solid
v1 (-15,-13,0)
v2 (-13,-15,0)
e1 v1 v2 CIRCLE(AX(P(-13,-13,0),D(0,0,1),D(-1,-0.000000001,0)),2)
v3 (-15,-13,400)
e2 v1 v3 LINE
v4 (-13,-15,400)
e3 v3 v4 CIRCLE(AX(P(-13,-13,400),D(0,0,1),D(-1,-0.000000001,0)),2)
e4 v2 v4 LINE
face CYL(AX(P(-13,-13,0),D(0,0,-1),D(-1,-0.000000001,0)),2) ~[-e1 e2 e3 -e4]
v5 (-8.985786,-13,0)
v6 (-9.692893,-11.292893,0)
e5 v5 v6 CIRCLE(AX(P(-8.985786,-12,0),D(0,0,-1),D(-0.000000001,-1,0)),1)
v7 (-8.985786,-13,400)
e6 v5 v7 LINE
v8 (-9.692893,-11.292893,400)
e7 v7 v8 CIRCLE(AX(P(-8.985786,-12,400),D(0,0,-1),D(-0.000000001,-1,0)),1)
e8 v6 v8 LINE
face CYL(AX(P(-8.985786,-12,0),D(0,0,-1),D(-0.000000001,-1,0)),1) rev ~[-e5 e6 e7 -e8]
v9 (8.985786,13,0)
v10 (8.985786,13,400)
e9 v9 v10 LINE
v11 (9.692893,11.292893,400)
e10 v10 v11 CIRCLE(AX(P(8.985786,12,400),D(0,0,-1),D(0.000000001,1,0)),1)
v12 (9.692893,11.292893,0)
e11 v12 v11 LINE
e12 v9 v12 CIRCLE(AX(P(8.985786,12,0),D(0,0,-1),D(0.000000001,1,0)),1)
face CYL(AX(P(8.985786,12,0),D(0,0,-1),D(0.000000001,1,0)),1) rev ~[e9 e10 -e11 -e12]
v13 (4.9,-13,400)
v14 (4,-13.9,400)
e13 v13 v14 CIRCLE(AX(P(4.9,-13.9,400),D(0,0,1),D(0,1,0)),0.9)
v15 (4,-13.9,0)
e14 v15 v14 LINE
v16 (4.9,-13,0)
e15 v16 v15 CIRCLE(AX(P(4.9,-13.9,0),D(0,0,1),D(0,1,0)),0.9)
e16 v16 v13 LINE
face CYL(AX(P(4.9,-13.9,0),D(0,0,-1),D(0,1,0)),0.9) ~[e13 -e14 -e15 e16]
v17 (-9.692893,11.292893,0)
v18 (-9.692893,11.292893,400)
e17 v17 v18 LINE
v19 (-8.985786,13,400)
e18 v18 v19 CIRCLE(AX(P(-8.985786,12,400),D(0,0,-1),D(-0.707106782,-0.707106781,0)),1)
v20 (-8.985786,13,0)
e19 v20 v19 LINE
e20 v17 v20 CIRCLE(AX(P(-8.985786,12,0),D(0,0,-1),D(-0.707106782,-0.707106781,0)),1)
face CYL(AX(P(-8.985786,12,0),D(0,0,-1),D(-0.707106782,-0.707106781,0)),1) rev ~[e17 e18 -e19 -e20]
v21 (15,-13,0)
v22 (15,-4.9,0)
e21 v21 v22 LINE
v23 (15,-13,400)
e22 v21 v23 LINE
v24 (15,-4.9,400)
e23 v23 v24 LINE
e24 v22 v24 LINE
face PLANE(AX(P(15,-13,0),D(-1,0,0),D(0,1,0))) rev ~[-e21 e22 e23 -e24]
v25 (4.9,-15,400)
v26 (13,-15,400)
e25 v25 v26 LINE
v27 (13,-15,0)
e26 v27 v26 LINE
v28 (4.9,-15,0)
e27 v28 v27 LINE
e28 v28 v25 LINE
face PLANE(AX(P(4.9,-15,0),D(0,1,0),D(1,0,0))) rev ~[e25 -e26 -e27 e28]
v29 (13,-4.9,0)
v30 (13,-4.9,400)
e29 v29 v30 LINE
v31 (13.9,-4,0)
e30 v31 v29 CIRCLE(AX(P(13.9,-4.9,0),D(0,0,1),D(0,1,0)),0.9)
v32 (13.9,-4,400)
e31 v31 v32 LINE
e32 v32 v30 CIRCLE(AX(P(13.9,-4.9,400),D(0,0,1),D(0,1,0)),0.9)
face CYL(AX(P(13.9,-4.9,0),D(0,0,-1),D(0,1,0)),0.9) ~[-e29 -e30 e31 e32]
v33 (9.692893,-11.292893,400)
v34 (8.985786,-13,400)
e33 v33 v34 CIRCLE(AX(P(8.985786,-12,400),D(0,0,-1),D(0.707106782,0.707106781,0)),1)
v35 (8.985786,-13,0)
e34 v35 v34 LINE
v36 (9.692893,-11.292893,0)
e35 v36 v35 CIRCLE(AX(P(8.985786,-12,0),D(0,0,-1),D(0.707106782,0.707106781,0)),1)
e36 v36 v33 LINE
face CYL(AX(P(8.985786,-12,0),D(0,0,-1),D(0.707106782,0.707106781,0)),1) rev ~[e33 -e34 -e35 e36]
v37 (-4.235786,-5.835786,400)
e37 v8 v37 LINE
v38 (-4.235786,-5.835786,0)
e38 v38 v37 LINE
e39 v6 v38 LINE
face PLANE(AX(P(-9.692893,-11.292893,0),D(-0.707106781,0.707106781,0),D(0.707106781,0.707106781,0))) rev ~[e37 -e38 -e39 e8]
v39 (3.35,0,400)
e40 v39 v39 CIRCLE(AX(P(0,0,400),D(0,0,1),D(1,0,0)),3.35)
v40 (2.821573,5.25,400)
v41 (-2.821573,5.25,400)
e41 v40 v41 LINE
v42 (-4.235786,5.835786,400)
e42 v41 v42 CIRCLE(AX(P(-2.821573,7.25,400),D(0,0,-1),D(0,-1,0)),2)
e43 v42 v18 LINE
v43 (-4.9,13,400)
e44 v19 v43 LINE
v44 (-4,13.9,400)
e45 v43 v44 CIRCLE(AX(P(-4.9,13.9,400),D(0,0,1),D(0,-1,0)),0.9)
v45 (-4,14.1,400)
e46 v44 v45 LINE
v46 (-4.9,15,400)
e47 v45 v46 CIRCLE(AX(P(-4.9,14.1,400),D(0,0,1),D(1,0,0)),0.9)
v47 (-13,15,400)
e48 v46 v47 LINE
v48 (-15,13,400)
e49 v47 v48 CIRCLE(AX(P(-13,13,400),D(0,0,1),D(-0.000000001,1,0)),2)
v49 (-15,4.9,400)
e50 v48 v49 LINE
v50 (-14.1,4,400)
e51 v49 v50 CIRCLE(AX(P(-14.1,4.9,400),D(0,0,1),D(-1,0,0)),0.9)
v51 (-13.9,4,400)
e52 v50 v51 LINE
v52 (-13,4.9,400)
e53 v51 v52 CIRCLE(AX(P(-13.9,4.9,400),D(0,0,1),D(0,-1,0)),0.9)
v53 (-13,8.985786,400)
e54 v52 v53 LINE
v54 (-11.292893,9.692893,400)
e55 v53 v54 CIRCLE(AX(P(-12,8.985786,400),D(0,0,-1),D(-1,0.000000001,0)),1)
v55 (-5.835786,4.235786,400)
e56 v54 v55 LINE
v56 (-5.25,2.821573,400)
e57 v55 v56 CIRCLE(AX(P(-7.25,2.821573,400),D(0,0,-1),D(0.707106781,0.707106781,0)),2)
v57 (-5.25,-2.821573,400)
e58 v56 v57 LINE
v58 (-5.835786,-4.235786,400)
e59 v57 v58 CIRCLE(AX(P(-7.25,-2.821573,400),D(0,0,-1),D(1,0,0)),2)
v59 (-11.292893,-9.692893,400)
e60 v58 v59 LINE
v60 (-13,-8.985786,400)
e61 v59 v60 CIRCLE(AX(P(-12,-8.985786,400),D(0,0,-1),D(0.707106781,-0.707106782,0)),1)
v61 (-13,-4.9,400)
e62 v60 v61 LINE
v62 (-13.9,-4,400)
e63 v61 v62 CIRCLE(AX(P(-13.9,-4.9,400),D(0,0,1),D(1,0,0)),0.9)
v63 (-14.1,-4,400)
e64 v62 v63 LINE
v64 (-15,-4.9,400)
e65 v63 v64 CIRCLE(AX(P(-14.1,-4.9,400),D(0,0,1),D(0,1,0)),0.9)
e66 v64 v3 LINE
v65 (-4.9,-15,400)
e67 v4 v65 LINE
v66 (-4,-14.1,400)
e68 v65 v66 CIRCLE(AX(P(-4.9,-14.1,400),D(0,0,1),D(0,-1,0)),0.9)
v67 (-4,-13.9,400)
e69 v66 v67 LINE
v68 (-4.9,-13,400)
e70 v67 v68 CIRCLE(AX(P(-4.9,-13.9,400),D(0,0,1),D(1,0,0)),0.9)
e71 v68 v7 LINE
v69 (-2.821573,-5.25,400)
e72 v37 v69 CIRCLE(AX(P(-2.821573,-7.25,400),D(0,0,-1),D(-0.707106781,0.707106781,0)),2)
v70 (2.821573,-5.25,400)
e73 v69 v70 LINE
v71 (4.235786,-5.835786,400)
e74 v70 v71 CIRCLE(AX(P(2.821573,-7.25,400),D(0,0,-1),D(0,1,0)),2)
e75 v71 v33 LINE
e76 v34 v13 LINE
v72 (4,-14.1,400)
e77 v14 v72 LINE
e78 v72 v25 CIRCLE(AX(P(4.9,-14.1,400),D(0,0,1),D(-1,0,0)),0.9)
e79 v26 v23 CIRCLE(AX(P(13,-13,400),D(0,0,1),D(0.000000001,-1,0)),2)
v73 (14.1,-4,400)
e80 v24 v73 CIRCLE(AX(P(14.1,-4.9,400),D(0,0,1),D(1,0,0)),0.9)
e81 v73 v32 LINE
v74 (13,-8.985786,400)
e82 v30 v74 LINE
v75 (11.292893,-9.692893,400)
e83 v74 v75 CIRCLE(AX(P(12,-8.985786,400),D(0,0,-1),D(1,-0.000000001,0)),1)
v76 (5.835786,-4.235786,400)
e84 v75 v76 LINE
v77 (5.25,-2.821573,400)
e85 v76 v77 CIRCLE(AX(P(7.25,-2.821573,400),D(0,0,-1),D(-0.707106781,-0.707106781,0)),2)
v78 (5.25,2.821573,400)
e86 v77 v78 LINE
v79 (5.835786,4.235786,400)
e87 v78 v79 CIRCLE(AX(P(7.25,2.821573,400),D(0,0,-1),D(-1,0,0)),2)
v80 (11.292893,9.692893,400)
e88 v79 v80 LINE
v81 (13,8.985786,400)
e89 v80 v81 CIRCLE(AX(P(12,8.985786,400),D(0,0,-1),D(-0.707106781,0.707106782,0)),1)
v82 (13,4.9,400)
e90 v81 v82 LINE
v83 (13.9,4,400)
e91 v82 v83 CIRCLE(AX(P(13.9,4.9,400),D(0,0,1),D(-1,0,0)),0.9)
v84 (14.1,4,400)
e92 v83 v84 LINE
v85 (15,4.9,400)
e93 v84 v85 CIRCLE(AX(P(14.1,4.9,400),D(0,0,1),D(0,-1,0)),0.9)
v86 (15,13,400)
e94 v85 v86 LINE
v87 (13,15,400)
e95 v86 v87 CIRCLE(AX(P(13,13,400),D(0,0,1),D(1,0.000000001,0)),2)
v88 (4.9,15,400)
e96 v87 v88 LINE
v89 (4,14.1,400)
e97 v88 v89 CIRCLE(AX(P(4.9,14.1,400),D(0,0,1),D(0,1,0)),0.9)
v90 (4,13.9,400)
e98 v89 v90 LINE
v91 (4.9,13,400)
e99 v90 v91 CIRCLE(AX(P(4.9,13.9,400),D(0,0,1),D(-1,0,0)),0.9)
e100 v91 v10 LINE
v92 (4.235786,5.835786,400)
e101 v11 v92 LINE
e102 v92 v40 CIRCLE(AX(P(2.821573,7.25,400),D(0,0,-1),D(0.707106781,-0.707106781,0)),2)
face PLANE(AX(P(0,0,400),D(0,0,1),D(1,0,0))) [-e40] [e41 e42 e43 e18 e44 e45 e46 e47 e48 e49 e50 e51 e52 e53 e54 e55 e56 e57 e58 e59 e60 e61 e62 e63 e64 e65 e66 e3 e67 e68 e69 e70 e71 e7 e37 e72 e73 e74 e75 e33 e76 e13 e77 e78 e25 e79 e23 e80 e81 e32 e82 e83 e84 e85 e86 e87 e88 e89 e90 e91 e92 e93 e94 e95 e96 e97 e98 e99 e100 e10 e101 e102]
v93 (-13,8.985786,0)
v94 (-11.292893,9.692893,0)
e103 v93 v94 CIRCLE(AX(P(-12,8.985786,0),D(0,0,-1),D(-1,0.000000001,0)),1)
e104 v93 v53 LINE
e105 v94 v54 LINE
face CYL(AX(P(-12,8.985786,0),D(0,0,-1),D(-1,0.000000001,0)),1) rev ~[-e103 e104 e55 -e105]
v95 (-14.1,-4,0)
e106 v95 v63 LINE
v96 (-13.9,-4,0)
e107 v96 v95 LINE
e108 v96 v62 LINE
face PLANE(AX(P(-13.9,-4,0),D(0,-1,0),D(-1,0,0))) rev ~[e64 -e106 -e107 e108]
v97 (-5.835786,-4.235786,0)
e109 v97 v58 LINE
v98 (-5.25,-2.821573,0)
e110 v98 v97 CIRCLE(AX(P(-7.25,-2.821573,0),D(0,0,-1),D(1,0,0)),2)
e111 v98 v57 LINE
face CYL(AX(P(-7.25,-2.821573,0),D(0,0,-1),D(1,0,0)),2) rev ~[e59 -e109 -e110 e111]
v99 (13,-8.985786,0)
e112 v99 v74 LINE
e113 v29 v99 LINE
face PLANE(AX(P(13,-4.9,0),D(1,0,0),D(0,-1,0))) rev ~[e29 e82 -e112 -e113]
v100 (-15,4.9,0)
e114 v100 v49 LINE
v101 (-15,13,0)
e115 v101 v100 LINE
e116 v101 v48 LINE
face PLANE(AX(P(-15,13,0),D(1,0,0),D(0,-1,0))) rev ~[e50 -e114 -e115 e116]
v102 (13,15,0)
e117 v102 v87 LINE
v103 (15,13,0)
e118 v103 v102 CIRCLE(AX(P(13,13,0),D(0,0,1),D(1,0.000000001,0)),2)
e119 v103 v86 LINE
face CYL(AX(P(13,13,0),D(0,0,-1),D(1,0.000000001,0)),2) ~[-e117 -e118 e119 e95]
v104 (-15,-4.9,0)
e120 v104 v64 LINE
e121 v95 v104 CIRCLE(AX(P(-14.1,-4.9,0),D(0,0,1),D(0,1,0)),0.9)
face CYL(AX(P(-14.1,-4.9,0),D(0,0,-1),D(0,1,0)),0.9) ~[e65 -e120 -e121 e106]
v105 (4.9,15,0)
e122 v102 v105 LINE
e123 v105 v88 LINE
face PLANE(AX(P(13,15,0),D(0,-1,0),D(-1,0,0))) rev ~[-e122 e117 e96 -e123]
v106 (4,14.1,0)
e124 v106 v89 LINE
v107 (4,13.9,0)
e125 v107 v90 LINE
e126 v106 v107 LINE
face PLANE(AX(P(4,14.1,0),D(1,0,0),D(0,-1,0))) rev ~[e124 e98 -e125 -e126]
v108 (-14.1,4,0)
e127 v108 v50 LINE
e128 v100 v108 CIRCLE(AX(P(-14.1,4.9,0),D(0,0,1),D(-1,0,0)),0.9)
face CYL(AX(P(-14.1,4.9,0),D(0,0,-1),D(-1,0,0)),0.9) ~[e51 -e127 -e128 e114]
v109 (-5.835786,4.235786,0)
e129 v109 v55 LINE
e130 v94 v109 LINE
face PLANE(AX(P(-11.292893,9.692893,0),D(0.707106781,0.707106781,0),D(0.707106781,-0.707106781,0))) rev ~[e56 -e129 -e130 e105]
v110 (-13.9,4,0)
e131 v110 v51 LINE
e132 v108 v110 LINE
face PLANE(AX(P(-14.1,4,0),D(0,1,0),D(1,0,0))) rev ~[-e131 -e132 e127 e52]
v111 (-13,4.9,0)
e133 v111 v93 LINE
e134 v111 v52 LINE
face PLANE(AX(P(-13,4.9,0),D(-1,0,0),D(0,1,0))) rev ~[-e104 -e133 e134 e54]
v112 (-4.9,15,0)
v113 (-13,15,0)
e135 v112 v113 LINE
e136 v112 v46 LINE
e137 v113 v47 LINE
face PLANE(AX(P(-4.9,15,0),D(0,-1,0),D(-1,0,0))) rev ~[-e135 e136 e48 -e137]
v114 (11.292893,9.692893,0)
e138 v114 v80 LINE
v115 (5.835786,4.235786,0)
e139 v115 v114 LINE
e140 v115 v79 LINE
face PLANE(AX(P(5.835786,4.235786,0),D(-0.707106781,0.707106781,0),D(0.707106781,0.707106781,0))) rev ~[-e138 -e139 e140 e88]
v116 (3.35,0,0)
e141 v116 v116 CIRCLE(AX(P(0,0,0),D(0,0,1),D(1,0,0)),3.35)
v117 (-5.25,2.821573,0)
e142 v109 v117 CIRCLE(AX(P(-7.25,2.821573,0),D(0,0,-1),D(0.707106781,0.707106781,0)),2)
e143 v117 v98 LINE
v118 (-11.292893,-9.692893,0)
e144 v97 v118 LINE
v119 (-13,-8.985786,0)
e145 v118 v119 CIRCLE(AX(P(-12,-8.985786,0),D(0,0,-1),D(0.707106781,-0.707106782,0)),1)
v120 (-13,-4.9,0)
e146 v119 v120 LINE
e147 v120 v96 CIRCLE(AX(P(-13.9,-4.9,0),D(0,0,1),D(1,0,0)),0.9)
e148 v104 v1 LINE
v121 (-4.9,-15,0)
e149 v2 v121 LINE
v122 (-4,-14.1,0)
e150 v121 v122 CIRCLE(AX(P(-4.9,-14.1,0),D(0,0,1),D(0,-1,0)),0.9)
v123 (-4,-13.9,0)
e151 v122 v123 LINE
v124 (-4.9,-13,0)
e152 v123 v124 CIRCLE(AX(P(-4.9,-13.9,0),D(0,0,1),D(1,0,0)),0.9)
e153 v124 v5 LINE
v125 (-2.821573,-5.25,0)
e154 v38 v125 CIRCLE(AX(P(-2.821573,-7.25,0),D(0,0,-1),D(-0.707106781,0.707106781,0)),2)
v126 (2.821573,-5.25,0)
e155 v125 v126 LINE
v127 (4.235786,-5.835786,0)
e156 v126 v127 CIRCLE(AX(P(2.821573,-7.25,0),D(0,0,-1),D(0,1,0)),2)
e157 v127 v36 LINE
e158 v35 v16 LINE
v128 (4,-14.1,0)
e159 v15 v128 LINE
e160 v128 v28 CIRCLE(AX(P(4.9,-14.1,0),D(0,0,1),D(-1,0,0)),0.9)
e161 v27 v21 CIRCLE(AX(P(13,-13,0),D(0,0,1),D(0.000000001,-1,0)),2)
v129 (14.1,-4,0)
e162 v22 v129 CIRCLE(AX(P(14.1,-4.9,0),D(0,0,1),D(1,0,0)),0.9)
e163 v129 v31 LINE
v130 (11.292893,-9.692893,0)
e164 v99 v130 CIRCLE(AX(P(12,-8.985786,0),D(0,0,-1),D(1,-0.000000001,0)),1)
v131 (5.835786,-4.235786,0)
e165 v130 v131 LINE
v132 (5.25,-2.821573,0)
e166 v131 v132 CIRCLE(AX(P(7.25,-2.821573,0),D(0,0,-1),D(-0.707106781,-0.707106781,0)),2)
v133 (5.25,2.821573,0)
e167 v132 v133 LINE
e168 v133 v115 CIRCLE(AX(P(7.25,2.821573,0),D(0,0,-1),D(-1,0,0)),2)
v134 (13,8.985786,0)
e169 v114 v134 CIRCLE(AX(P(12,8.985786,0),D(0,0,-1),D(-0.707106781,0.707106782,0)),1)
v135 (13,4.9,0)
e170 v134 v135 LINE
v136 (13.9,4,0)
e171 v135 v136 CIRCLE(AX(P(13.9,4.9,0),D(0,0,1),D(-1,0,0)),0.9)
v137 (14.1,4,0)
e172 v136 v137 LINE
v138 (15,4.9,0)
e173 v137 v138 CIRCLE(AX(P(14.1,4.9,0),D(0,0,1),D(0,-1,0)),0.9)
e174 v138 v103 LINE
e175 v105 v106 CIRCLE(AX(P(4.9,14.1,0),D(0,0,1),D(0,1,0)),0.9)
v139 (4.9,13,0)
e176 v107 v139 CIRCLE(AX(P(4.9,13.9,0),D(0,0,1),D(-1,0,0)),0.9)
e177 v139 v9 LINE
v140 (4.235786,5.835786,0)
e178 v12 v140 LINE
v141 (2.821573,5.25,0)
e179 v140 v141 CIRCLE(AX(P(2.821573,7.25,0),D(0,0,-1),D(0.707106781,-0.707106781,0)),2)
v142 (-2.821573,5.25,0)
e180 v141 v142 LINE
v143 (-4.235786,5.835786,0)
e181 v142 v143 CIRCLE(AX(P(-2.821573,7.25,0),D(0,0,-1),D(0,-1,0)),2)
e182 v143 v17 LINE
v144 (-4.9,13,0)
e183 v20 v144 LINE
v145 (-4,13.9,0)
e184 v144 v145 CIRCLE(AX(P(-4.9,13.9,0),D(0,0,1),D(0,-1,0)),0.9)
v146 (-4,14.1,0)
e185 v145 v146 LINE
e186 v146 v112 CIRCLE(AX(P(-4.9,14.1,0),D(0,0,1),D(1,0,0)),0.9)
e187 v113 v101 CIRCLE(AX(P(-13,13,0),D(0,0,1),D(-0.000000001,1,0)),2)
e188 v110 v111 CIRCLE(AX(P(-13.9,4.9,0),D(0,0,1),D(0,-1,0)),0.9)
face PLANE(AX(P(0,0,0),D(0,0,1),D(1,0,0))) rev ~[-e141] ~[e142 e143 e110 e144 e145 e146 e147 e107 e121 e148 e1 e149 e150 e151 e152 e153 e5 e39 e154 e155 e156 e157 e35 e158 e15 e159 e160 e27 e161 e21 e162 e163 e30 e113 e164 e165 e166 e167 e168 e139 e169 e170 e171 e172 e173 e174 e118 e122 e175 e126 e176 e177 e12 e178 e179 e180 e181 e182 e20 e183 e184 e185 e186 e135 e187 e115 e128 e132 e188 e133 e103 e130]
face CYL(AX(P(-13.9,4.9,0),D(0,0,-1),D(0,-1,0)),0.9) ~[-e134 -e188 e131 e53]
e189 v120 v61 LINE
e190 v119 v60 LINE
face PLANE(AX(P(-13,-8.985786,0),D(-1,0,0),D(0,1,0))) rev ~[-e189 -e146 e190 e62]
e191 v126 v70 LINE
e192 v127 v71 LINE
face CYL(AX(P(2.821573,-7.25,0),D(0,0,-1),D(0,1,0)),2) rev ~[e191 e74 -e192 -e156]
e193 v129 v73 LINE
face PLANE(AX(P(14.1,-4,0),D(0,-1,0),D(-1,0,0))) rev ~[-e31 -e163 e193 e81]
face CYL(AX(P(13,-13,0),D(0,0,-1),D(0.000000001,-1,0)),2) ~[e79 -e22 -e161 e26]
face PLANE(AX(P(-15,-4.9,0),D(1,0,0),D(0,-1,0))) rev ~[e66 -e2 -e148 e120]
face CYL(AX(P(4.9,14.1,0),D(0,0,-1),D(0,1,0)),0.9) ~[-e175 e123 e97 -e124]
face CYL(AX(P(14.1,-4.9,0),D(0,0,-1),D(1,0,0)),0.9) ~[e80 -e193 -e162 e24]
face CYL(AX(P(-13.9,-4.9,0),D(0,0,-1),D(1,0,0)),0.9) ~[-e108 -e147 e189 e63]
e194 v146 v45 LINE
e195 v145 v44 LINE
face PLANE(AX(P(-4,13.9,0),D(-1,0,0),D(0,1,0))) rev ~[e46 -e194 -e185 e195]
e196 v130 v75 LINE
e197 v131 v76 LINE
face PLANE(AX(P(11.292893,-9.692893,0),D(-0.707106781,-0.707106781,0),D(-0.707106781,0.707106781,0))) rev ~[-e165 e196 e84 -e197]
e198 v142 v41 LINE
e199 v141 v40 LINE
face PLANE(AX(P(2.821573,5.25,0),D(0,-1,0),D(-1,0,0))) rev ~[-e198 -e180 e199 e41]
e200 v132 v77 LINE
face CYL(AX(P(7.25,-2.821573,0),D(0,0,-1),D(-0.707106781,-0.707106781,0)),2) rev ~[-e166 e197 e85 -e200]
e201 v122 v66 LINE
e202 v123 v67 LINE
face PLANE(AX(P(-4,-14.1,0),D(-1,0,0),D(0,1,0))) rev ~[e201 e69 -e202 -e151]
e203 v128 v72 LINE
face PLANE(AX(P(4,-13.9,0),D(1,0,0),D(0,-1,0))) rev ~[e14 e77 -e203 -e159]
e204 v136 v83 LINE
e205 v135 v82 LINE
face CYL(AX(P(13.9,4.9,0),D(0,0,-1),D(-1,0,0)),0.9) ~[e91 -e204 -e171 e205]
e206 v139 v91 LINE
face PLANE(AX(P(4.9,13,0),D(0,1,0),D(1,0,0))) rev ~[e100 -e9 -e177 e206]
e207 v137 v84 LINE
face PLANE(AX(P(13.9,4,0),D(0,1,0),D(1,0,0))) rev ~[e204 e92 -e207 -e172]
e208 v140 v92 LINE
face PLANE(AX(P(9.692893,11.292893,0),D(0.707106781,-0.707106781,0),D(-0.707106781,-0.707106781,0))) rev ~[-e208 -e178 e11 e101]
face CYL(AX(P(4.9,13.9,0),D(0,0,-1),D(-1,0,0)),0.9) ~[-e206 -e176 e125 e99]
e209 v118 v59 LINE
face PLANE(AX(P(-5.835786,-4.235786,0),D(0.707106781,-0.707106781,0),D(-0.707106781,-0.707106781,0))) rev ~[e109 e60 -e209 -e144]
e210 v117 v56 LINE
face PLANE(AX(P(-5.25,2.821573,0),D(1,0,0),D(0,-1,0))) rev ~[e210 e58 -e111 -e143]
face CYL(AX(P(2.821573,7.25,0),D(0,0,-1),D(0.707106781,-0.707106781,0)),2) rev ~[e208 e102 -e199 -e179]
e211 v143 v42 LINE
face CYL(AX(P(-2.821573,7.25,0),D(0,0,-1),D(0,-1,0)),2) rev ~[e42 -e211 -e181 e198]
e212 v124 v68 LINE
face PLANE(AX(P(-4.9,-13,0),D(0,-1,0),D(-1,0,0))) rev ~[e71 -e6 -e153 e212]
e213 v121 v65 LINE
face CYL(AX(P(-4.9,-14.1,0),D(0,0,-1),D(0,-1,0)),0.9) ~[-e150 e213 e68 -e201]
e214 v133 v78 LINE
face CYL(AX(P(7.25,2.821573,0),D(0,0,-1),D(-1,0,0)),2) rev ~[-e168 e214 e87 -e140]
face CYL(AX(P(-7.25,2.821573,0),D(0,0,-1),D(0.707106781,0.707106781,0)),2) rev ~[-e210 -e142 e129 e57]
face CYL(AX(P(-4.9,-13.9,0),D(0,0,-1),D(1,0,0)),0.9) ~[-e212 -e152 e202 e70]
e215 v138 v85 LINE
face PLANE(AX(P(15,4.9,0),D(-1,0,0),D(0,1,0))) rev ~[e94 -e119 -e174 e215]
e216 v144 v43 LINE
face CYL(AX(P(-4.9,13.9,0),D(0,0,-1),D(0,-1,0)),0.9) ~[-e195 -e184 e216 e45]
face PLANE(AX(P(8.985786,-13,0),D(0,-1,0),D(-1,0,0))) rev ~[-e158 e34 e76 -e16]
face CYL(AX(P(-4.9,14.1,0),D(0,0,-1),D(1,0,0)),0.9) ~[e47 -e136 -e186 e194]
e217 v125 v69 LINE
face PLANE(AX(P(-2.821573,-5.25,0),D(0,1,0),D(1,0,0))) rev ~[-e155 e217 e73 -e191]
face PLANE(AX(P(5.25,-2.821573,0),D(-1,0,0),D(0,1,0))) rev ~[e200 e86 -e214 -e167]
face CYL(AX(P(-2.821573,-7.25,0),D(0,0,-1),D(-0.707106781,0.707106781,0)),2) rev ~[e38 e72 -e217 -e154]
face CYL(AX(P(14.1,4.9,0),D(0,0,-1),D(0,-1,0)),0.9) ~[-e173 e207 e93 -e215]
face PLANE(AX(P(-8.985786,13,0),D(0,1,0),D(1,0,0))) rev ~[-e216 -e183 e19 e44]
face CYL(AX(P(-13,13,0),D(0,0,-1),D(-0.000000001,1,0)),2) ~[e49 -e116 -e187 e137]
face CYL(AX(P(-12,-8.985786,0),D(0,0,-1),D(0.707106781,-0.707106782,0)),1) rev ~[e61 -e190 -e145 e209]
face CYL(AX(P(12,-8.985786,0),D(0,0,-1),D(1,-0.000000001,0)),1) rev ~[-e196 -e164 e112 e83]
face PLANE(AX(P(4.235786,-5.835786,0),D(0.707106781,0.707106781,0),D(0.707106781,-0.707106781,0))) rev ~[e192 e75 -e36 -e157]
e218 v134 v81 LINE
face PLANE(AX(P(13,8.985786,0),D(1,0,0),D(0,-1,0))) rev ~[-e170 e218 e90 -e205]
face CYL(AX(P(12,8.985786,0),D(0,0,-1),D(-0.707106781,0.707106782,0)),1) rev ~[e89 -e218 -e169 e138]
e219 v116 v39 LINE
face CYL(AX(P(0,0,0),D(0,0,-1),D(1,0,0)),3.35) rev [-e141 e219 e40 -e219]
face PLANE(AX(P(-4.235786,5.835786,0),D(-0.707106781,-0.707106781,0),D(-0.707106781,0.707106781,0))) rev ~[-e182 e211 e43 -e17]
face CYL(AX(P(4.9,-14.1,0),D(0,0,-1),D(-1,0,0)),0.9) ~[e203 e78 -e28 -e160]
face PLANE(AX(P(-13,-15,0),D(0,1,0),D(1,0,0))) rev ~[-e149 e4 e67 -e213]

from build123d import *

# Parameters (mm, degrees)
SKETCH_1_R      = 3.35
EXTRUDE_1_DEPTH = 400


with BuildPart() as part:
    # 草图1 → 凸台-拉伸1 (new body)
    with BuildSketch(Plane.XY):
        with BuildLine():
            Line((14.1, -4), (13.9, -4))
            ThreePointArc((13.9, -4), (13.263603897, -4.263603897), (13, -4.9))
            Line((13, -4.9), (13, -8.985786438))
            ThreePointArc((13, -8.985786438), (12.382683432, -9.90966597), (11.292893219, -9.692893219))
            Line((11.292893219, -9.692893219), (5.835786438, -4.235786438))
            ThreePointArc((5.835786438, -4.235786438), (5.402240935, -3.58693974), (5.25, -2.821572875))
            Line((5.25, -2.821572875), (5.25, 2.821572875))
            ThreePointArc((5.25, 2.821572875), (5.402240935, 3.58693974), (5.835786438, 4.235786438))
            Line((5.835786438, 4.235786438), (11.292893219, 9.692893219))
            ThreePointArc((11.292893219, 9.692893219), (12.382683432, 9.90966597), (13, 8.985786438))
            Line((13, 8.985786438), (13, 4.9))
            ThreePointArc((13, 4.9), (13.263603897, 4.263603897), (13.9, 4))
            Line((13.9, 4), (14.1, 4))
            ThreePointArc((14.1, 4), (14.736396103, 4.263603897), (15, 4.9))
            Line((15, 4.9), (15, 13))
            ThreePointArc((15, 13), (14.414213562, 14.414213562), (13, 15))
            Line((13, 15), (4.9, 15))
            ThreePointArc((4.9, 15), (4.263603897, 14.736396103), (4, 14.1))
            Line((4, 14.1), (4, 13.9))
            ThreePointArc((4, 13.9), (4.263603897, 13.263603897), (4.9, 13))
            Line((4.9, 13), (8.985786438, 13))
            ThreePointArc((8.985786438, 13), (9.90966597, 12.382683432), (9.692893219, 11.292893219))
            Line((9.692893219, 11.292893219), (4.235786438, 5.835786438))
            ThreePointArc((4.235786438, 5.835786438), (3.58693974, 5.402240935), (2.821572875, 5.25))
            Line((2.821572875, 5.25), (-2.821572875, 5.25))
            ThreePointArc((-2.821572875, 5.25), (-3.58693974, 5.402240935), (-4.235786438, 5.835786438))
            Line((-4.235786438, 5.835786438), (-9.692893219, 11.292893219))
            ThreePointArc((-9.692893219, 11.292893219), (-9.90966597, 12.382683432), (-8.985786438, 13))
            Line((-8.985786438, 13), (-4.9, 13))
            ThreePointArc((-4.9, 13), (-4.263603897, 13.263603897), (-4, 13.9))
            Line((-4, 13.9), (-4, 14.1))
            ThreePointArc((-4, 14.1), (-4.263603897, 14.736396103), (-4.9, 15))
            Line((-4.9, 15), (-13, 15))
            ThreePointArc((-13, 15), (-14.414213562, 14.414213562), (-15, 13))
            Line((-15, 13), (-15, 4.9))
            ThreePointArc((-15, 4.9), (-14.736396103, 4.263603897), (-14.1, 4))
            Line((-14.1, 4), (-13.9, 4))
            ThreePointArc((-13.9, 4), (-13.263603897, 4.263603897), (-13, 4.9))
            Line((-13, 4.9), (-13, 8.985786438))
            ThreePointArc((-13, 8.985786438), (-12.382683432, 9.90966597), (-11.292893219, 9.692893219))
            Line((-11.292893219, 9.692893219), (-5.835786438, 4.235786438))
            ThreePointArc((-5.835786438, 4.235786438), (-5.402240935, 3.58693974), (-5.25, 2.821572875))
            Line((-5.25, 2.821572875), (-5.25, -2.821572875))
            ThreePointArc((-5.25, -2.821572875), (-5.402240935, -3.58693974), (-5.835786438, -4.235786438))
            Line((-5.835786438, -4.235786438), (-11.292893219, -9.692893219))
            ThreePointArc((-11.292893219, -9.692893219), (-12.382683432, -9.90966597), (-13, -8.985786438))
            Line((-13, -8.985786438), (-13, -4.9))
            ThreePointArc((-13, -4.9), (-13.263603897, -4.263603897), (-13.9, -4))
            Line((-13.9, -4), (-14.1, -4))
            ThreePointArc((-14.1, -4), (-14.736396103, -4.263603897), (-15, -4.9))
            Line((-15, -4.9), (-15, -13))
            ThreePointArc((-15, -13), (-14.414213562, -14.414213562), (-13, -15))
            Line((-13, -15), (-4.9, -15))
            ThreePointArc((-4.9, -15), (-4.263603897, -14.736396103), (-4, -14.1))
            Line((-4, -14.1), (-4, -13.9))
            ThreePointArc((-4, -13.9), (-4.263603897, -13.263603897), (-4.9, -13))
            Line((-4.9, -13), (-8.985786438, -13))
            ThreePointArc((-8.985786438, -13), (-9.90966597, -12.382683432), (-9.692893219, -11.292893219))
            Line((-9.692893219, -11.292893219), (-4.235786438, -5.835786438))
            ThreePointArc((-4.235786438, -5.835786438), (-3.58693974, -5.402240935), (-2.821572875, -5.25))
            Line((-2.821572875, -5.25), (2.821572875, -5.25))
            ThreePointArc((2.821572875, -5.25), (3.58693974, -5.402240935), (4.235786438, -5.835786438))
            Line((4.235786438, -5.835786438), (9.692893219, -11.292893219))
            ThreePointArc((9.692893219, -11.292893219), (9.90966597, -12.382683432), (8.985786438, -13))
            Line((8.985786438, -13), (4.9, -13))
            ThreePointArc((4.9, -13), (4.263603897, -13.263603897), (4, -13.9))
            Line((4, -13.9), (4, -14.1))
            ThreePointArc((4, -14.1), (4.263603897, -14.736396103), (4.9, -15))
            Line((4.9, -15), (13, -15))
            ThreePointArc((13, -15), (14.414213562, -14.414213562), (15, -13))
            Line((15, -13), (15, -4.9))
            ThreePointArc((15, -4.9), (14.736396103, -4.263603897), (14.1, -4))
        make_face()
        Circle(SKETCH_1_R, mode=Mode.SUBTRACT)
    extrude(amount=EXTRUDE_1_DEPTH)


solid = part.part
